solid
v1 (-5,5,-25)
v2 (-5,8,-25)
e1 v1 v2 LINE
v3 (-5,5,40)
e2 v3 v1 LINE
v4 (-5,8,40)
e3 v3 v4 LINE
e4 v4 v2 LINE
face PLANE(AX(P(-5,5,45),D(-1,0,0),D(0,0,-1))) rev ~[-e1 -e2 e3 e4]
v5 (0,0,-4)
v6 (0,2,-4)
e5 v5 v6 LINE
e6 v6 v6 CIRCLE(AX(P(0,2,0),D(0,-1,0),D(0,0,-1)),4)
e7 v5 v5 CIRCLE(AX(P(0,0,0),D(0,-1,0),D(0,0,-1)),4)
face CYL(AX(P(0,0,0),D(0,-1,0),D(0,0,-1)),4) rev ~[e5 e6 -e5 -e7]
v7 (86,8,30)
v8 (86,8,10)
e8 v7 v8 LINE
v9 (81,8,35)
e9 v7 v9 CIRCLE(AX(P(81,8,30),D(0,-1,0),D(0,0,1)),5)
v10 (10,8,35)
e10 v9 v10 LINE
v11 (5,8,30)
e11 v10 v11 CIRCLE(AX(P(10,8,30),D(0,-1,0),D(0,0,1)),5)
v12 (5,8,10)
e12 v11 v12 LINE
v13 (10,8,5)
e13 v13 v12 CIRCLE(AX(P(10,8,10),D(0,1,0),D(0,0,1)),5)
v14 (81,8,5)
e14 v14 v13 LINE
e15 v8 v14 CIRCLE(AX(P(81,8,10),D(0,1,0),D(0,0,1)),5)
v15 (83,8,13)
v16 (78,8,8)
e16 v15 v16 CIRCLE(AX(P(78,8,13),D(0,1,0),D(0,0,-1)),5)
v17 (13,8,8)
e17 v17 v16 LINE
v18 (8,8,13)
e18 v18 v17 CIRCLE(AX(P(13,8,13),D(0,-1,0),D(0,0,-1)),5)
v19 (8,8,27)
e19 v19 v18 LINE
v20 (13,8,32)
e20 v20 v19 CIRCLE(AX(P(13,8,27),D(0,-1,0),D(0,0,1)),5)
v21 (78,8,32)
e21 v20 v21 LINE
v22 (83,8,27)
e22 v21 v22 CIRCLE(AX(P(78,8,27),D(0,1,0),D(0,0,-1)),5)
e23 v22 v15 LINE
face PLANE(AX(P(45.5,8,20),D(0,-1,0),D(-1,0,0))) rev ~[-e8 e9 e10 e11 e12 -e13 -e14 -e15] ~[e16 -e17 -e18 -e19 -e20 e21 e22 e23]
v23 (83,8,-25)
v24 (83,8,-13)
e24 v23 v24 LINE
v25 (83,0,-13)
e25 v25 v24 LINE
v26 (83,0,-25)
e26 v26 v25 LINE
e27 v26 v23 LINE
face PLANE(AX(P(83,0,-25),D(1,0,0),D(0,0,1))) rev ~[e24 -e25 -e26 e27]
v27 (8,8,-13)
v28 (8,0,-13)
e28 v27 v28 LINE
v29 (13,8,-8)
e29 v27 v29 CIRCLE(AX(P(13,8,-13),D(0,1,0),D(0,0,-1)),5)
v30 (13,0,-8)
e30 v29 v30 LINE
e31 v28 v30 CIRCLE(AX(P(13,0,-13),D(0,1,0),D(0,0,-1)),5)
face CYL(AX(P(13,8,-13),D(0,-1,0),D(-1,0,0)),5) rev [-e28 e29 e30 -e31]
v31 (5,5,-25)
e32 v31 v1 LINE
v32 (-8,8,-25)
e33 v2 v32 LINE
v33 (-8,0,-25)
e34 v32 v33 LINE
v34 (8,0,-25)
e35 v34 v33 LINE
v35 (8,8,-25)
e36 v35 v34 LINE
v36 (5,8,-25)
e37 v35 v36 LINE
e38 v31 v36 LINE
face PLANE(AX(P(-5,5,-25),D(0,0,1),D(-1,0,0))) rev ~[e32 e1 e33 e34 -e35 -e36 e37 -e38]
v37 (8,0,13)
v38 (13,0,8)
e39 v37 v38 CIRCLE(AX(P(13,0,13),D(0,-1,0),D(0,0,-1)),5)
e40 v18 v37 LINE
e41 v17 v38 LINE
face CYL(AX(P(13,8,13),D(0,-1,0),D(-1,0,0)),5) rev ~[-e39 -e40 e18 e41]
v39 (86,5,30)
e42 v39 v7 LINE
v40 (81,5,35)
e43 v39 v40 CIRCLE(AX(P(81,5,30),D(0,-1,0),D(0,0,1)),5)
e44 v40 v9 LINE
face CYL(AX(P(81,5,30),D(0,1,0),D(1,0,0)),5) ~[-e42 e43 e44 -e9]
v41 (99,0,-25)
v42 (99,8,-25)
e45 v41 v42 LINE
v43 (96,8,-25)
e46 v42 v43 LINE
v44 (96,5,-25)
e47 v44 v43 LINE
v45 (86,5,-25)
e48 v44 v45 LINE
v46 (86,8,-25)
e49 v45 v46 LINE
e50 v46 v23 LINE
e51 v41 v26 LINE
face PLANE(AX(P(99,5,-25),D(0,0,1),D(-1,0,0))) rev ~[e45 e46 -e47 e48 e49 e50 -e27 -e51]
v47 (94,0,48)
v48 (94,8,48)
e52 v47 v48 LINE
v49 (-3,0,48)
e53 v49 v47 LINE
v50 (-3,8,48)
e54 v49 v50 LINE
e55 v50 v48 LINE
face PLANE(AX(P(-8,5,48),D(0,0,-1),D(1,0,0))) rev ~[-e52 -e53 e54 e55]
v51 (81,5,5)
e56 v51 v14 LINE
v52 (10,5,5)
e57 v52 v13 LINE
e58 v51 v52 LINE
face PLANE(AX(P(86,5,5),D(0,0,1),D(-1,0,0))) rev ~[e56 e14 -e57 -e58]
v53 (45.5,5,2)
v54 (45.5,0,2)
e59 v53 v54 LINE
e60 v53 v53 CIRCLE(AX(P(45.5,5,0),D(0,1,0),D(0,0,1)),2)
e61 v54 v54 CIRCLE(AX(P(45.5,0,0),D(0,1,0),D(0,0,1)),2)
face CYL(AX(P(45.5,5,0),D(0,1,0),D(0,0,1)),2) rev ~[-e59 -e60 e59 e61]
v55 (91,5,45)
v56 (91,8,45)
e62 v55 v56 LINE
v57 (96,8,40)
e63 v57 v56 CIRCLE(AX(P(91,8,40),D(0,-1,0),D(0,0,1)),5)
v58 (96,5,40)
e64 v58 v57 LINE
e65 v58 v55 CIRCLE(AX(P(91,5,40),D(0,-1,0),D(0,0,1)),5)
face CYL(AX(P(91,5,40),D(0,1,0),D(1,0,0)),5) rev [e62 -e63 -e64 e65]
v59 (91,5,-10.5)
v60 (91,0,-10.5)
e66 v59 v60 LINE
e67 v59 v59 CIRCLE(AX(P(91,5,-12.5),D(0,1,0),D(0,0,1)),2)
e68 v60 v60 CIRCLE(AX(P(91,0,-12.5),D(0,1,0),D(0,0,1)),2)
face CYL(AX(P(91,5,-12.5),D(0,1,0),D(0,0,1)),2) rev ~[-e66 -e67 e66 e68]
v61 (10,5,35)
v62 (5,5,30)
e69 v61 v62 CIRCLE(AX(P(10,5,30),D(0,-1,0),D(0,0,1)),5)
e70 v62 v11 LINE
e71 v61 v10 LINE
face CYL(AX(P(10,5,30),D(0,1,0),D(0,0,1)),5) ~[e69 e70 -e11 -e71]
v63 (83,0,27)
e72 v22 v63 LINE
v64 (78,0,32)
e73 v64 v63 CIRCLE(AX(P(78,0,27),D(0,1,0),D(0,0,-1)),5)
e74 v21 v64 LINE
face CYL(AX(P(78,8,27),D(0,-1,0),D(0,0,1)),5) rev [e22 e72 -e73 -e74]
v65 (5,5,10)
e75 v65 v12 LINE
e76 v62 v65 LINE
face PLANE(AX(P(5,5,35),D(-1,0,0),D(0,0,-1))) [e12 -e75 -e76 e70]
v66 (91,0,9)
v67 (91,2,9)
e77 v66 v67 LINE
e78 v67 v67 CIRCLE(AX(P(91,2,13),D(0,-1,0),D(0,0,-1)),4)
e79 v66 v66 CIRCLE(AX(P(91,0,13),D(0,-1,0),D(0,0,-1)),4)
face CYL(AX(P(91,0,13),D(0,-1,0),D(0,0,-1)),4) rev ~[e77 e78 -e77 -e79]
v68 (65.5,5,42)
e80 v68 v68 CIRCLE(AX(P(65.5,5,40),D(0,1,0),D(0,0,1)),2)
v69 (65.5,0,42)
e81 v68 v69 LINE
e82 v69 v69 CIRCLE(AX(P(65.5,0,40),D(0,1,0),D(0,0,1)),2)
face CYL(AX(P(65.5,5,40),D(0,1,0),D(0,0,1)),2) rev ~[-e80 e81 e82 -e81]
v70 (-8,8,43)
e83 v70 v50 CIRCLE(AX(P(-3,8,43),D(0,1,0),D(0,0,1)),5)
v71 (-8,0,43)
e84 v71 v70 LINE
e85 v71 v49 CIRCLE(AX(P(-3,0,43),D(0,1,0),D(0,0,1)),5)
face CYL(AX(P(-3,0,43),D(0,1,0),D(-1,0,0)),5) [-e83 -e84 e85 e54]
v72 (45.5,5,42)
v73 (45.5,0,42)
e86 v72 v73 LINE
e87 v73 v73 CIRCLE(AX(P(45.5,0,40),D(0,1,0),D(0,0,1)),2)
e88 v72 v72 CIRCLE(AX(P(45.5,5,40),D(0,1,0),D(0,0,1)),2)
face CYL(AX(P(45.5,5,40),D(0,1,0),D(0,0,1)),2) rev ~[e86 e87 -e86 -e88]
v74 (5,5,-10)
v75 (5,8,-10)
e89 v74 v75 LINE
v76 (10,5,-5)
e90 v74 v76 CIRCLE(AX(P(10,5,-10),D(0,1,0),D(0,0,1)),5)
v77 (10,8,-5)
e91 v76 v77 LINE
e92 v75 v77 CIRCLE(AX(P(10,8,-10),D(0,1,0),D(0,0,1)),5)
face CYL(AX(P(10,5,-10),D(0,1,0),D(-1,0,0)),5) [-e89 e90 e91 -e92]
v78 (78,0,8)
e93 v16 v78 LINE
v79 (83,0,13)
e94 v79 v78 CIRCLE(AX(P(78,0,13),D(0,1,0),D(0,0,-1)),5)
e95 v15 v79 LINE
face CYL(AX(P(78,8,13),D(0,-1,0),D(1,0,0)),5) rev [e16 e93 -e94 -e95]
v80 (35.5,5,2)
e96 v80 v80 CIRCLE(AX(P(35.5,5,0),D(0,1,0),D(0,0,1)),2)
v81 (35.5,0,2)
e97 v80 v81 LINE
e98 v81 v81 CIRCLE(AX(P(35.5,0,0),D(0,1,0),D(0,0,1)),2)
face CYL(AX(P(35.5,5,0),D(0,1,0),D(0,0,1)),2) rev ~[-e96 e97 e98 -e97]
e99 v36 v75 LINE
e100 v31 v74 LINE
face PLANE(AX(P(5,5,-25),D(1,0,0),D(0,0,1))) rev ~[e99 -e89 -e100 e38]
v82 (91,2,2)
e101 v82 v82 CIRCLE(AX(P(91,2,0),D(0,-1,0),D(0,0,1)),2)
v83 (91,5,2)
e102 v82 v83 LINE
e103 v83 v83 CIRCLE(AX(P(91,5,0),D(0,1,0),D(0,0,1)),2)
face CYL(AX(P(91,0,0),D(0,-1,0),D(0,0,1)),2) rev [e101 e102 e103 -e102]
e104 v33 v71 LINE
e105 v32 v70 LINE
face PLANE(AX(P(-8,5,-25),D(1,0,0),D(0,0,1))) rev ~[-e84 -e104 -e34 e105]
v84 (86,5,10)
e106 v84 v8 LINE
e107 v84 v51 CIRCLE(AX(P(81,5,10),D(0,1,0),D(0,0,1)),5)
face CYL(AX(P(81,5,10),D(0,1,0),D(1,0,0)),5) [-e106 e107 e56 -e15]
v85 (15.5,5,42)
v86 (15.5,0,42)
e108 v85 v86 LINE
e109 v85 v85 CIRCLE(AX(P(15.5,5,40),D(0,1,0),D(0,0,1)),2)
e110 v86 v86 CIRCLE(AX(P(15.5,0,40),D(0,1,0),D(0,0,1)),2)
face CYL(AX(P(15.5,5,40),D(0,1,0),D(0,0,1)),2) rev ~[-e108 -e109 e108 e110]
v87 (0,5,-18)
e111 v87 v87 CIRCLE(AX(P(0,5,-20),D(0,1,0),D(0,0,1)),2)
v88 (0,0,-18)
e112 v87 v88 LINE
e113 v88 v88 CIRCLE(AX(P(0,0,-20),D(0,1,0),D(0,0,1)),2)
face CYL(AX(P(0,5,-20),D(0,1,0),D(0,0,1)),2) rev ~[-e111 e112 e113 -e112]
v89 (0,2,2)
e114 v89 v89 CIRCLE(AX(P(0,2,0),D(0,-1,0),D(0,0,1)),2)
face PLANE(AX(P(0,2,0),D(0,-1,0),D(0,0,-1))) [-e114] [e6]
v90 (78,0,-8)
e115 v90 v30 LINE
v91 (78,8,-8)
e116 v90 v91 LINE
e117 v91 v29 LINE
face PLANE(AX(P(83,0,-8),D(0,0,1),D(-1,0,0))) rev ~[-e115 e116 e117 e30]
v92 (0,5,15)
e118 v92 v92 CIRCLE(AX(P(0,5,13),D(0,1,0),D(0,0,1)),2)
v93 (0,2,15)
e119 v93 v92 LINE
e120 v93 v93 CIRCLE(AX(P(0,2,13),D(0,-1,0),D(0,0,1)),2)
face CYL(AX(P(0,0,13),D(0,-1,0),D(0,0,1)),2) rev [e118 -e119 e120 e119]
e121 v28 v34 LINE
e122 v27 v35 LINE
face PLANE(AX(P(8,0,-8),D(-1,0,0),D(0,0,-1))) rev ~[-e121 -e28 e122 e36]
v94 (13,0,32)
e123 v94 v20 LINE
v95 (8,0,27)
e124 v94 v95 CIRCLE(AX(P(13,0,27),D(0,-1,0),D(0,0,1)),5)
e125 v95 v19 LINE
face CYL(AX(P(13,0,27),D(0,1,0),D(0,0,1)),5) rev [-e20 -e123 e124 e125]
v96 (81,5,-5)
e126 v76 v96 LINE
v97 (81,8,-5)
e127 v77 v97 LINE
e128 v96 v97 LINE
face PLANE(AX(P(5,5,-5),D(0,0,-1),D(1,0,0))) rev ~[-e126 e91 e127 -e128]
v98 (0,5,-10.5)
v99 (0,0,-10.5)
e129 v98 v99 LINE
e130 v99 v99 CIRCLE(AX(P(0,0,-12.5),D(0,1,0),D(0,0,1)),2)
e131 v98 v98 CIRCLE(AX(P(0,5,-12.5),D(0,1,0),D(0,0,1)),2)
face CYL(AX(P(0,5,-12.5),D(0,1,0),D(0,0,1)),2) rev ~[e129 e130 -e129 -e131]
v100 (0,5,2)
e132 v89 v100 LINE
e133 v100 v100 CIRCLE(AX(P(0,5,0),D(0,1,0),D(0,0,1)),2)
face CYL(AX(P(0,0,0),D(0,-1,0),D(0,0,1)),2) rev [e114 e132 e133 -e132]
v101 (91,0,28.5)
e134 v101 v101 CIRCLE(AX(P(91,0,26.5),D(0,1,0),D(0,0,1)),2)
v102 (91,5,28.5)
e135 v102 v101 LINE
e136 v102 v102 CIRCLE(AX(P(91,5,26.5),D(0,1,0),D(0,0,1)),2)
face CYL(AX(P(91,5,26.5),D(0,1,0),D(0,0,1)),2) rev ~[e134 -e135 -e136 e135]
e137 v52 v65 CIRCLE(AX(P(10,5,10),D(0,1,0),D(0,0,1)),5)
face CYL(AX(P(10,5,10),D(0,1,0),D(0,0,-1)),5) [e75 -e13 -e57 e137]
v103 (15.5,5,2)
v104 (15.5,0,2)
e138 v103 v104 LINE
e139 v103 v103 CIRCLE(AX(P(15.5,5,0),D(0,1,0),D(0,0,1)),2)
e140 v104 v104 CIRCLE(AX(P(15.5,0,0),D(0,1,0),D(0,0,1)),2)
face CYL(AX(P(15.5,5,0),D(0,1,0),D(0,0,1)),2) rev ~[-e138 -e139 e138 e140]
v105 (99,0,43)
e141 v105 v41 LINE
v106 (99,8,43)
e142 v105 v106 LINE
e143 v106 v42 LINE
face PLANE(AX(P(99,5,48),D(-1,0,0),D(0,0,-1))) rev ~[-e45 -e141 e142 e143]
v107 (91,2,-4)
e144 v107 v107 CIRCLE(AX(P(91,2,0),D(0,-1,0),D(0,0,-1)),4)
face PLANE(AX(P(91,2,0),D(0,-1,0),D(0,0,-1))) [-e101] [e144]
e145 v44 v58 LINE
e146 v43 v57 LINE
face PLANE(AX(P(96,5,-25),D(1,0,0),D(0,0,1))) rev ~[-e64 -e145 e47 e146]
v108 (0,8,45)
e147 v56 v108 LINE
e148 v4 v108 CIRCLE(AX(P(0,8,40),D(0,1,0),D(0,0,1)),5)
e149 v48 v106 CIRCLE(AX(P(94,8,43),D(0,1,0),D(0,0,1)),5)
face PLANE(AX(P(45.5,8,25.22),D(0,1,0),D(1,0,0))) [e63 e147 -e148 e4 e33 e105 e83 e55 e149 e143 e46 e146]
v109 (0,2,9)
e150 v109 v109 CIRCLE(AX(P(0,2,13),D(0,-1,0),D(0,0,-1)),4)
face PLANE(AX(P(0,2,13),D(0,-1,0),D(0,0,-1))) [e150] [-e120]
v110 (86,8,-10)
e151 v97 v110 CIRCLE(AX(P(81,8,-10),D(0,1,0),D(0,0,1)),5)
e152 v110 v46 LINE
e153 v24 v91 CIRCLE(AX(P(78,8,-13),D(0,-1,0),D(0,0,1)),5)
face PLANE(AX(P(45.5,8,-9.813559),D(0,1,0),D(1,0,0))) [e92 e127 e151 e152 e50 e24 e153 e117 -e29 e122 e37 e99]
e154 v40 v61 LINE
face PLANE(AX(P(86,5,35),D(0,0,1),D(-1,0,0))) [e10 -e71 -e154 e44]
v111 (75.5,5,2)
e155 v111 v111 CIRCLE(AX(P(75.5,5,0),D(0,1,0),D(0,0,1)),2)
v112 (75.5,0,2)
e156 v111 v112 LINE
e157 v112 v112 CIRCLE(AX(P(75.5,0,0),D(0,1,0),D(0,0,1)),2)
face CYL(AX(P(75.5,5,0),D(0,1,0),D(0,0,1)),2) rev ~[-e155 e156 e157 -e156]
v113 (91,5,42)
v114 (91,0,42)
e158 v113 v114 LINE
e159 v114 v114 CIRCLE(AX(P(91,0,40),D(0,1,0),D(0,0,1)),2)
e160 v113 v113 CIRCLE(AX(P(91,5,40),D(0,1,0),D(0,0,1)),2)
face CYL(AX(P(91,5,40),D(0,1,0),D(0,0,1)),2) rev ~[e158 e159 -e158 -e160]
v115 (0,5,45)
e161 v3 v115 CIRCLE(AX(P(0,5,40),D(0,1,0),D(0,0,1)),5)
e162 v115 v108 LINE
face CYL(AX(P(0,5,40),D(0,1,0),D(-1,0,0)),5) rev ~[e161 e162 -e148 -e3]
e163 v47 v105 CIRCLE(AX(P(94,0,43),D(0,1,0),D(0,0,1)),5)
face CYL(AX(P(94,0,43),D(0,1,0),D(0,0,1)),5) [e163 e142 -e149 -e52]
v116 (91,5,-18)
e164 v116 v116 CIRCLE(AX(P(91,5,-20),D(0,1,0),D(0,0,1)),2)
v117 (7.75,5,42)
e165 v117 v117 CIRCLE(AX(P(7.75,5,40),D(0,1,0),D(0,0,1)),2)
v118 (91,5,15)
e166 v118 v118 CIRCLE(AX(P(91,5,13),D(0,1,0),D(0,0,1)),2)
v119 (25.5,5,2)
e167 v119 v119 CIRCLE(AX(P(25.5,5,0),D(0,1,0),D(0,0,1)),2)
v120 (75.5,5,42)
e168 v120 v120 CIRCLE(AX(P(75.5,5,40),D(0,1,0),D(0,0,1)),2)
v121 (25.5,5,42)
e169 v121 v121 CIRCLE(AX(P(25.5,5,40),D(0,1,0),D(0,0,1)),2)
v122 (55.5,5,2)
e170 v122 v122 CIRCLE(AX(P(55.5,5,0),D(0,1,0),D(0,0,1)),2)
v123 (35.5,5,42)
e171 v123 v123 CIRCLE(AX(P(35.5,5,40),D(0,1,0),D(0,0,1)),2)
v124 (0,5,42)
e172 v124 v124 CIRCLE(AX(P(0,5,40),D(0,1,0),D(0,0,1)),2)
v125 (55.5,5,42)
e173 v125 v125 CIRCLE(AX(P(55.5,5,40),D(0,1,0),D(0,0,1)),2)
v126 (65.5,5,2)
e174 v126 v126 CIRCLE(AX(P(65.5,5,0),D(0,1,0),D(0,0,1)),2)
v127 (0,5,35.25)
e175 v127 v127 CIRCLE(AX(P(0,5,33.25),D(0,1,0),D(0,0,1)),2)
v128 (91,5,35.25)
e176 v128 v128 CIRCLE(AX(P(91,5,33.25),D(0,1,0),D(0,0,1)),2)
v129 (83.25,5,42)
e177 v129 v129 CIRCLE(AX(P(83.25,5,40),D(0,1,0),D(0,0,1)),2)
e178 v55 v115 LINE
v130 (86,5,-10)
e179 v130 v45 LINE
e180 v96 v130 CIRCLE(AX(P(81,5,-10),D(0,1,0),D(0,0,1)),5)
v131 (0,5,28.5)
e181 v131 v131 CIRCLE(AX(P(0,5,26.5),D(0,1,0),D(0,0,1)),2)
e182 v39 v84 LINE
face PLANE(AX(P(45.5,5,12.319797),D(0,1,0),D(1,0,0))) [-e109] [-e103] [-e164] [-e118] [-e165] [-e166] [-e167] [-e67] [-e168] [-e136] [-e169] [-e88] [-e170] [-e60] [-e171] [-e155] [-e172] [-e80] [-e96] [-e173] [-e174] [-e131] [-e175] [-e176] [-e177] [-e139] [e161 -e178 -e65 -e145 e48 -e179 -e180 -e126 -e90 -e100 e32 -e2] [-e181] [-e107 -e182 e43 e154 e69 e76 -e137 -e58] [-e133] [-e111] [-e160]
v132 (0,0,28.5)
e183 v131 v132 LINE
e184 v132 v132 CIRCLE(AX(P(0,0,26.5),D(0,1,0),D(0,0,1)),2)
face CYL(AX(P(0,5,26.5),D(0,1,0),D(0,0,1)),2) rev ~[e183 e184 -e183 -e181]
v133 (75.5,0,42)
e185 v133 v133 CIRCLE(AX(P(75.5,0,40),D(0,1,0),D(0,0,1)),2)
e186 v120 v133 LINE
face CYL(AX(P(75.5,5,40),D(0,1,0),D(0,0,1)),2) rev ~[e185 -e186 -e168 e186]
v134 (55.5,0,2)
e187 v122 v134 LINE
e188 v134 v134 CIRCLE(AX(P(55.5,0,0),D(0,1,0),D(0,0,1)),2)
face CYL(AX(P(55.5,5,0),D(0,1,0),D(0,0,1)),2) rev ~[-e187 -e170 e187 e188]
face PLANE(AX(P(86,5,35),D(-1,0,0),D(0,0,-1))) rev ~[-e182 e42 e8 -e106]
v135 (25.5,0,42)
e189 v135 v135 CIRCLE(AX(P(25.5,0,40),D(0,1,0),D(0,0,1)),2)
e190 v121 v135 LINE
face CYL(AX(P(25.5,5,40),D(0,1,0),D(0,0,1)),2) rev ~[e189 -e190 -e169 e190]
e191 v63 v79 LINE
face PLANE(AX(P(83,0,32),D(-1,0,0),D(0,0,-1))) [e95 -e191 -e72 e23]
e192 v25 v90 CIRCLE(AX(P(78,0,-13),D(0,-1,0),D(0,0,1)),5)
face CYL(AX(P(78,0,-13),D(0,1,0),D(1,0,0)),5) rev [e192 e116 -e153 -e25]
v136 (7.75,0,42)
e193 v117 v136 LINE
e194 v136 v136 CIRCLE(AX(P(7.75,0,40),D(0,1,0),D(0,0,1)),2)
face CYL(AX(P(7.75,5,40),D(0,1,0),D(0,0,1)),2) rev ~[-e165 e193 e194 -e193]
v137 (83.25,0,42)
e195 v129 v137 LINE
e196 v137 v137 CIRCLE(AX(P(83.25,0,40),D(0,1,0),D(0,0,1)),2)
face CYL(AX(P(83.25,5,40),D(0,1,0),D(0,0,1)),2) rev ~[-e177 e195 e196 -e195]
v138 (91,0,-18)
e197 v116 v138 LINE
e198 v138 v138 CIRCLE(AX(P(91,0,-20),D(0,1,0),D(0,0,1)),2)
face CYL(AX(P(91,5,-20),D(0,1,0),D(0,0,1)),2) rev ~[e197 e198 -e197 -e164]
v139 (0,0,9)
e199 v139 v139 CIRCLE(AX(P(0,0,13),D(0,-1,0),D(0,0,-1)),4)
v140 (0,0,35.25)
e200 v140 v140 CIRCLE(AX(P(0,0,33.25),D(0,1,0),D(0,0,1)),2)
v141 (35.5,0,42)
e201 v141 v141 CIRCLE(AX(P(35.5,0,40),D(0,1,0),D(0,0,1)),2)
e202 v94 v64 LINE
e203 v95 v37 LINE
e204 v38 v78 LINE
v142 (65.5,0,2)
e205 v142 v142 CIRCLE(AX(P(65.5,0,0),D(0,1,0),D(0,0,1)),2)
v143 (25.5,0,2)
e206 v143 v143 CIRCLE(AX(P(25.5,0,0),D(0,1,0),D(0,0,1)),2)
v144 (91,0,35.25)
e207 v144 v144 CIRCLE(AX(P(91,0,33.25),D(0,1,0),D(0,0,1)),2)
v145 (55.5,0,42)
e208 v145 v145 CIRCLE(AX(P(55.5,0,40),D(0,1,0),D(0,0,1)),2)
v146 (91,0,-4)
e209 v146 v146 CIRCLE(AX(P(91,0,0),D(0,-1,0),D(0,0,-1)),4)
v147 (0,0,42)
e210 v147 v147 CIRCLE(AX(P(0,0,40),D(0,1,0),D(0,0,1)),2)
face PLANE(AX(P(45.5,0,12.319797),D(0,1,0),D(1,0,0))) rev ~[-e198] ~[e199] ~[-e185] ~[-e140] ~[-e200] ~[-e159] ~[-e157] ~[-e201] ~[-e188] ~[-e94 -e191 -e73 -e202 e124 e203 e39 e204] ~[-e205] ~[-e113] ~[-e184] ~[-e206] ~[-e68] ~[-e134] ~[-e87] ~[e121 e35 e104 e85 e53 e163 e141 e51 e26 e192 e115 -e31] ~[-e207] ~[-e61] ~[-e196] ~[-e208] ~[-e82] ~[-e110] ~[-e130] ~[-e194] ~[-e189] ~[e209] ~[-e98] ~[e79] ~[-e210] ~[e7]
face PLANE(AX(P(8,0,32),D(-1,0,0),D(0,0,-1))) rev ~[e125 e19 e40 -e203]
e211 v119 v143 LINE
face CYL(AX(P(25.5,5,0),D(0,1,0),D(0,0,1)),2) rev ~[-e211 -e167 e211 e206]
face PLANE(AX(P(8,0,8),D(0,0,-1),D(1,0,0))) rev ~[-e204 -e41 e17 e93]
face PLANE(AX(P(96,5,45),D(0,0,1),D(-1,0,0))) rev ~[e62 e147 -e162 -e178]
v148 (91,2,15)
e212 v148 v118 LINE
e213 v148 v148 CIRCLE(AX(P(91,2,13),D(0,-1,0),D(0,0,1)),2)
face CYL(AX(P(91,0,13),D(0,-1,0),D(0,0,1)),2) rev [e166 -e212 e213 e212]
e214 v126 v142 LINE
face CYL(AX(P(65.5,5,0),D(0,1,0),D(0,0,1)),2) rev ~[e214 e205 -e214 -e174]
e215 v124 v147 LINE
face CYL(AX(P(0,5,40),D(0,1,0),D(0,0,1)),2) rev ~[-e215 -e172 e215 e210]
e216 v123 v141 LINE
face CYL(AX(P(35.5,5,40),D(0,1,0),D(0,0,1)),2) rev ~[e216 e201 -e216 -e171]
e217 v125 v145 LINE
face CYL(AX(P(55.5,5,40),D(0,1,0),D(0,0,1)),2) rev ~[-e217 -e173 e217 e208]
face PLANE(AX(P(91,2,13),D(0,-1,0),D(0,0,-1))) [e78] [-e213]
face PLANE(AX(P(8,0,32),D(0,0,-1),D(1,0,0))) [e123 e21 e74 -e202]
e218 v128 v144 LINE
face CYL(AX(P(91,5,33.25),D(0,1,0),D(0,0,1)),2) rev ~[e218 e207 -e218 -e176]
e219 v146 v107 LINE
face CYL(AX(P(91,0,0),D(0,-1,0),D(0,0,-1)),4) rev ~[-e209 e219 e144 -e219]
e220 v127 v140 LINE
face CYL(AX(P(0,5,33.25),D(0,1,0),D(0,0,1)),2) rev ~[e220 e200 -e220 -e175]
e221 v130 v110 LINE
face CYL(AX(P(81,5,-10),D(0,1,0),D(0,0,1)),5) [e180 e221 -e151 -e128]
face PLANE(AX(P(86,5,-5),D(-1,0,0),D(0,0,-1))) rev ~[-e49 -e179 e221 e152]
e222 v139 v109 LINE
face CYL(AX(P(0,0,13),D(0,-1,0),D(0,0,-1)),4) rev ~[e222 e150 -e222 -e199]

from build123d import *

# Parameters (mm, degrees)
SKETCH1_R           = 2
SKETCH1_W           = 75
SKETCH1_H           = 24
BOSS_EXTRUDE1_DEPTH = 5
SKETCH2_W           = 75
SKETCH2_H           = 24
BOSS_EXTRUDE3_DEPTH = 3
SKETCH3_R           = 2
CUT_EXTRUDE1_DEPTH  = 5
FILLET2_R           = 5
SKETCH4_R           = 2
CUT_EXTRUDE2_DEPTH  = 5
SKETCH5_R           = 4
CUT_EXTRUDE3_DEPTH  = 2


with BuildPart() as part:
    # Sketch1 → Boss-Extrude1 (new body)
    with BuildSketch(Plane(origin=(0, 0, 0), x_dir=(1, 0, 0), z_dir=(0, 1, 0))):
        Polygon((8, -48), (83, -48), (99, -48), (99, 25), (83, 25), (83, 8), (8, 8), (8, 25), (-8, 25), (-8, -48), align=None)
        with Locations(Location((0, 0, 0), (0, 0, 270))):
            Circle(SKETCH1_R, mode=Mode.SUBTRACT)
        with Locations(Location((91, 0, 0), (0, 0, 270))):
            Circle(SKETCH1_R, mode=Mode.SUBTRACT)
        with Locations(Location((0, -13, 0), (0, 0, 270))):
            Circle(SKETCH1_R, mode=Mode.SUBTRACT)
        with Locations(Location((91, -13, 0), (0, 0, 270))):
            Circle(SKETCH1_R, mode=Mode.SUBTRACT)
        with Locations((45.5, -20)):
            Rectangle(SKETCH1_W, SKETCH1_H, mode=Mode.SUBTRACT)
    extrude(amount=BOSS_EXTRUDE1_DEPTH)

    # Sketch2 → Boss-Extrude3 (add)
    # profile 1 of 3: a face of its own
    with BuildSketch(Plane(origin=(0, 5, 0), x_dir=(1, 0, 0), z_dir=(0, 1, 0))):
        Polygon((-8, 25), (-8, -48), (96, -48), (99, -48), (99, 25), (96, 25), (96, -45), (-5, -45), (-5, 25), align=None)
    # profile 2 of 3: a face of its own
    with BuildSketch(Plane(origin=(0, 5, 0), x_dir=(1, 0, 0), z_dir=(0, 1, 0))):
        Polygon((8, 25), (5, 25), (5, 8), (5, 5), (86, 5), (86, 25), (83, 25), (83, 8), (8, 8), align=None)
    # profile 3 of 3: a face of its own
    with BuildSketch(Plane(origin=(0, 5, 0), x_dir=(1, 0, 0), z_dir=(0, 1, 0))):
        Polygon((86, -5), (86, -32), (86, -35), (5, -35), (5, -5), (83, -5), align=None)
        with Locations((45.5, -20)):
            Rectangle(SKETCH2_W, SKETCH2_H, mode=Mode.SUBTRACT)
    extrude(amount=BOSS_EXTRUDE3_DEPTH)

    # Sketch3 → Cut-Extrude1 (cut)
    with BuildSketch(Plane(origin=(0, 5, 0), x_dir=(1, 0, 0), z_dir=(0, 1, 0))):
        with Locations(Location((0, -40, 0), (0, 0, 270))):
            Circle(SKETCH3_R)
        with Locations(Location((91, -40, 0), (0, 0, 270))):
            Circle(SKETCH3_R)
        with Locations(Location((91, -26.5, 0), (0, 0, 270))):
            Circle(SKETCH3_R)
        with Locations(Location((0, -26.5, 0), (0, 0, 270))):
            Circle(SKETCH3_R)
        with Locations(Location((0, 12.5, 0), (0, 0, 270))):
            Circle(SKETCH3_R)
        with Locations(Location((91, 12.5, 0), (0, 0, 270))):
            Circle(SKETCH3_R)
        with Locations(Location((0, 20, 0), (0, 0, 270))):
            Circle(SKETCH3_R)
        with Locations(Location((91, 20, 0), (0, 0, 270))):
            Circle(SKETCH3_R)
        with Locations(Location((0, -33.25, 0), (0, 0, 270))):
            Circle(SKETCH3_R)
        with Locations(Location((91, -33.25, 0), (0, 0, 270))):
            Circle(SKETCH3_R)
        with Locations(Location((75.5, 0, 0), (0, 0, 270))):
            Circle(SKETCH3_R)
        with Locations(Location((65.5, 0, 0), (0, 0, 270))):
            Circle(SKETCH3_R)
        with Locations(Location((55.5, 0, 0), (0, 0, 270))):
            Circle(SKETCH3_R)
        with Locations(Location((45.5, 0, 0), (0, 0, 270))):
            Circle(SKETCH3_R)
        with Locations(Location((35.5, 0, 0), (0, 0, 270))):
            Circle(SKETCH3_R)
        with Locations(Location((25.5, 0, 0), (0, 0, 270))):
            Circle(SKETCH3_R)
        with Locations(Location((15.5, 0, 0), (0, 0, 270))):
            Circle(SKETCH3_R)
        with Locations(Location((55.5, -40, 0), (0, 0, 270))):
            Circle(SKETCH3_R)
        with Locations(Location((45.5, -40, 0), (0, 0, 270))):
            Circle(SKETCH3_R)
        with Locations(Location((15.5, -40, 0), (0, 0, 270))):
            Circle(SKETCH3_R)
        with Locations(Location((75.5, -40, 0), (0, 0, 270))):
            Circle(SKETCH3_R)
        with Locations(Location((65.5, -40, 0), (0, 0, 270))):
            Circle(SKETCH3_R)
        with Locations(Location((25.5, -40, 0), (0, 0, 270))):
            Circle(SKETCH3_R)
        with Locations(Location((35.5, -40, 0), (0, 0, 270))):
            Circle(SKETCH3_R)
    extrude(amount=-CUT_EXTRUDE1_DEPTH, mode=Mode.SUBTRACT)

    # Fillet2
    fillet2_edges = [part.edges().sort_by_distance(p)[0] for p in [
        (5, 6.5, 5),
        (5, 6.5, 35),
        (86, 6.5, 35),
        (86, 6.5, 5),
        (8, 4, -8),
        (83, 4, -8),
        (99, 4, 48),
        (-8, 4, 48),
        (8, 4, 8),
        (8, 4, 32),
        (83, 4, 32),
        (83, 4, 8),
        (96, 6.5, 45),
        (-5, 6.5, 45),
        (5, 6.5, -5),
        (86, 6.5, -5),
    ]]
    fillet(fillet2_edges, radius=FILLET2_R)

    # Sketch4 → Cut-Extrude2 (cut)
    with BuildSketch(Plane(origin=(0, 5, 0), x_dir=(1, 0, 0), z_dir=(0, 1, 0))):
        with Locations(Location((7.75, -40, 0), (0, 0, 270))):
            Circle(SKETCH4_R)
        with Locations(Location((83.25, -40, 0), (0, 0, 270))):
            Circle(SKETCH4_R)
    extrude(amount=-CUT_EXTRUDE2_DEPTH, mode=Mode.SUBTRACT)

    # Sketch5 → Cut-Extrude3 (cut)
    with BuildSketch(Plane.XZ):
        with Locations(Location((91, 0, 0), (0, 0, 270))):
            Circle(SKETCH5_R)
        with Locations(Location((91, 13, 0), (0, 0, 270))):
            Circle(SKETCH5_R)
        with Locations(Location((0, 0, 0), (0, 0, 270))):
            Circle(SKETCH5_R)
        with Locations(Location((0, 13, 0), (0, 0, 270))):
            Circle(SKETCH5_R)
    extrude(amount=-CUT_EXTRUDE3_DEPTH, mode=Mode.SUBTRACT)


solid = part.part
